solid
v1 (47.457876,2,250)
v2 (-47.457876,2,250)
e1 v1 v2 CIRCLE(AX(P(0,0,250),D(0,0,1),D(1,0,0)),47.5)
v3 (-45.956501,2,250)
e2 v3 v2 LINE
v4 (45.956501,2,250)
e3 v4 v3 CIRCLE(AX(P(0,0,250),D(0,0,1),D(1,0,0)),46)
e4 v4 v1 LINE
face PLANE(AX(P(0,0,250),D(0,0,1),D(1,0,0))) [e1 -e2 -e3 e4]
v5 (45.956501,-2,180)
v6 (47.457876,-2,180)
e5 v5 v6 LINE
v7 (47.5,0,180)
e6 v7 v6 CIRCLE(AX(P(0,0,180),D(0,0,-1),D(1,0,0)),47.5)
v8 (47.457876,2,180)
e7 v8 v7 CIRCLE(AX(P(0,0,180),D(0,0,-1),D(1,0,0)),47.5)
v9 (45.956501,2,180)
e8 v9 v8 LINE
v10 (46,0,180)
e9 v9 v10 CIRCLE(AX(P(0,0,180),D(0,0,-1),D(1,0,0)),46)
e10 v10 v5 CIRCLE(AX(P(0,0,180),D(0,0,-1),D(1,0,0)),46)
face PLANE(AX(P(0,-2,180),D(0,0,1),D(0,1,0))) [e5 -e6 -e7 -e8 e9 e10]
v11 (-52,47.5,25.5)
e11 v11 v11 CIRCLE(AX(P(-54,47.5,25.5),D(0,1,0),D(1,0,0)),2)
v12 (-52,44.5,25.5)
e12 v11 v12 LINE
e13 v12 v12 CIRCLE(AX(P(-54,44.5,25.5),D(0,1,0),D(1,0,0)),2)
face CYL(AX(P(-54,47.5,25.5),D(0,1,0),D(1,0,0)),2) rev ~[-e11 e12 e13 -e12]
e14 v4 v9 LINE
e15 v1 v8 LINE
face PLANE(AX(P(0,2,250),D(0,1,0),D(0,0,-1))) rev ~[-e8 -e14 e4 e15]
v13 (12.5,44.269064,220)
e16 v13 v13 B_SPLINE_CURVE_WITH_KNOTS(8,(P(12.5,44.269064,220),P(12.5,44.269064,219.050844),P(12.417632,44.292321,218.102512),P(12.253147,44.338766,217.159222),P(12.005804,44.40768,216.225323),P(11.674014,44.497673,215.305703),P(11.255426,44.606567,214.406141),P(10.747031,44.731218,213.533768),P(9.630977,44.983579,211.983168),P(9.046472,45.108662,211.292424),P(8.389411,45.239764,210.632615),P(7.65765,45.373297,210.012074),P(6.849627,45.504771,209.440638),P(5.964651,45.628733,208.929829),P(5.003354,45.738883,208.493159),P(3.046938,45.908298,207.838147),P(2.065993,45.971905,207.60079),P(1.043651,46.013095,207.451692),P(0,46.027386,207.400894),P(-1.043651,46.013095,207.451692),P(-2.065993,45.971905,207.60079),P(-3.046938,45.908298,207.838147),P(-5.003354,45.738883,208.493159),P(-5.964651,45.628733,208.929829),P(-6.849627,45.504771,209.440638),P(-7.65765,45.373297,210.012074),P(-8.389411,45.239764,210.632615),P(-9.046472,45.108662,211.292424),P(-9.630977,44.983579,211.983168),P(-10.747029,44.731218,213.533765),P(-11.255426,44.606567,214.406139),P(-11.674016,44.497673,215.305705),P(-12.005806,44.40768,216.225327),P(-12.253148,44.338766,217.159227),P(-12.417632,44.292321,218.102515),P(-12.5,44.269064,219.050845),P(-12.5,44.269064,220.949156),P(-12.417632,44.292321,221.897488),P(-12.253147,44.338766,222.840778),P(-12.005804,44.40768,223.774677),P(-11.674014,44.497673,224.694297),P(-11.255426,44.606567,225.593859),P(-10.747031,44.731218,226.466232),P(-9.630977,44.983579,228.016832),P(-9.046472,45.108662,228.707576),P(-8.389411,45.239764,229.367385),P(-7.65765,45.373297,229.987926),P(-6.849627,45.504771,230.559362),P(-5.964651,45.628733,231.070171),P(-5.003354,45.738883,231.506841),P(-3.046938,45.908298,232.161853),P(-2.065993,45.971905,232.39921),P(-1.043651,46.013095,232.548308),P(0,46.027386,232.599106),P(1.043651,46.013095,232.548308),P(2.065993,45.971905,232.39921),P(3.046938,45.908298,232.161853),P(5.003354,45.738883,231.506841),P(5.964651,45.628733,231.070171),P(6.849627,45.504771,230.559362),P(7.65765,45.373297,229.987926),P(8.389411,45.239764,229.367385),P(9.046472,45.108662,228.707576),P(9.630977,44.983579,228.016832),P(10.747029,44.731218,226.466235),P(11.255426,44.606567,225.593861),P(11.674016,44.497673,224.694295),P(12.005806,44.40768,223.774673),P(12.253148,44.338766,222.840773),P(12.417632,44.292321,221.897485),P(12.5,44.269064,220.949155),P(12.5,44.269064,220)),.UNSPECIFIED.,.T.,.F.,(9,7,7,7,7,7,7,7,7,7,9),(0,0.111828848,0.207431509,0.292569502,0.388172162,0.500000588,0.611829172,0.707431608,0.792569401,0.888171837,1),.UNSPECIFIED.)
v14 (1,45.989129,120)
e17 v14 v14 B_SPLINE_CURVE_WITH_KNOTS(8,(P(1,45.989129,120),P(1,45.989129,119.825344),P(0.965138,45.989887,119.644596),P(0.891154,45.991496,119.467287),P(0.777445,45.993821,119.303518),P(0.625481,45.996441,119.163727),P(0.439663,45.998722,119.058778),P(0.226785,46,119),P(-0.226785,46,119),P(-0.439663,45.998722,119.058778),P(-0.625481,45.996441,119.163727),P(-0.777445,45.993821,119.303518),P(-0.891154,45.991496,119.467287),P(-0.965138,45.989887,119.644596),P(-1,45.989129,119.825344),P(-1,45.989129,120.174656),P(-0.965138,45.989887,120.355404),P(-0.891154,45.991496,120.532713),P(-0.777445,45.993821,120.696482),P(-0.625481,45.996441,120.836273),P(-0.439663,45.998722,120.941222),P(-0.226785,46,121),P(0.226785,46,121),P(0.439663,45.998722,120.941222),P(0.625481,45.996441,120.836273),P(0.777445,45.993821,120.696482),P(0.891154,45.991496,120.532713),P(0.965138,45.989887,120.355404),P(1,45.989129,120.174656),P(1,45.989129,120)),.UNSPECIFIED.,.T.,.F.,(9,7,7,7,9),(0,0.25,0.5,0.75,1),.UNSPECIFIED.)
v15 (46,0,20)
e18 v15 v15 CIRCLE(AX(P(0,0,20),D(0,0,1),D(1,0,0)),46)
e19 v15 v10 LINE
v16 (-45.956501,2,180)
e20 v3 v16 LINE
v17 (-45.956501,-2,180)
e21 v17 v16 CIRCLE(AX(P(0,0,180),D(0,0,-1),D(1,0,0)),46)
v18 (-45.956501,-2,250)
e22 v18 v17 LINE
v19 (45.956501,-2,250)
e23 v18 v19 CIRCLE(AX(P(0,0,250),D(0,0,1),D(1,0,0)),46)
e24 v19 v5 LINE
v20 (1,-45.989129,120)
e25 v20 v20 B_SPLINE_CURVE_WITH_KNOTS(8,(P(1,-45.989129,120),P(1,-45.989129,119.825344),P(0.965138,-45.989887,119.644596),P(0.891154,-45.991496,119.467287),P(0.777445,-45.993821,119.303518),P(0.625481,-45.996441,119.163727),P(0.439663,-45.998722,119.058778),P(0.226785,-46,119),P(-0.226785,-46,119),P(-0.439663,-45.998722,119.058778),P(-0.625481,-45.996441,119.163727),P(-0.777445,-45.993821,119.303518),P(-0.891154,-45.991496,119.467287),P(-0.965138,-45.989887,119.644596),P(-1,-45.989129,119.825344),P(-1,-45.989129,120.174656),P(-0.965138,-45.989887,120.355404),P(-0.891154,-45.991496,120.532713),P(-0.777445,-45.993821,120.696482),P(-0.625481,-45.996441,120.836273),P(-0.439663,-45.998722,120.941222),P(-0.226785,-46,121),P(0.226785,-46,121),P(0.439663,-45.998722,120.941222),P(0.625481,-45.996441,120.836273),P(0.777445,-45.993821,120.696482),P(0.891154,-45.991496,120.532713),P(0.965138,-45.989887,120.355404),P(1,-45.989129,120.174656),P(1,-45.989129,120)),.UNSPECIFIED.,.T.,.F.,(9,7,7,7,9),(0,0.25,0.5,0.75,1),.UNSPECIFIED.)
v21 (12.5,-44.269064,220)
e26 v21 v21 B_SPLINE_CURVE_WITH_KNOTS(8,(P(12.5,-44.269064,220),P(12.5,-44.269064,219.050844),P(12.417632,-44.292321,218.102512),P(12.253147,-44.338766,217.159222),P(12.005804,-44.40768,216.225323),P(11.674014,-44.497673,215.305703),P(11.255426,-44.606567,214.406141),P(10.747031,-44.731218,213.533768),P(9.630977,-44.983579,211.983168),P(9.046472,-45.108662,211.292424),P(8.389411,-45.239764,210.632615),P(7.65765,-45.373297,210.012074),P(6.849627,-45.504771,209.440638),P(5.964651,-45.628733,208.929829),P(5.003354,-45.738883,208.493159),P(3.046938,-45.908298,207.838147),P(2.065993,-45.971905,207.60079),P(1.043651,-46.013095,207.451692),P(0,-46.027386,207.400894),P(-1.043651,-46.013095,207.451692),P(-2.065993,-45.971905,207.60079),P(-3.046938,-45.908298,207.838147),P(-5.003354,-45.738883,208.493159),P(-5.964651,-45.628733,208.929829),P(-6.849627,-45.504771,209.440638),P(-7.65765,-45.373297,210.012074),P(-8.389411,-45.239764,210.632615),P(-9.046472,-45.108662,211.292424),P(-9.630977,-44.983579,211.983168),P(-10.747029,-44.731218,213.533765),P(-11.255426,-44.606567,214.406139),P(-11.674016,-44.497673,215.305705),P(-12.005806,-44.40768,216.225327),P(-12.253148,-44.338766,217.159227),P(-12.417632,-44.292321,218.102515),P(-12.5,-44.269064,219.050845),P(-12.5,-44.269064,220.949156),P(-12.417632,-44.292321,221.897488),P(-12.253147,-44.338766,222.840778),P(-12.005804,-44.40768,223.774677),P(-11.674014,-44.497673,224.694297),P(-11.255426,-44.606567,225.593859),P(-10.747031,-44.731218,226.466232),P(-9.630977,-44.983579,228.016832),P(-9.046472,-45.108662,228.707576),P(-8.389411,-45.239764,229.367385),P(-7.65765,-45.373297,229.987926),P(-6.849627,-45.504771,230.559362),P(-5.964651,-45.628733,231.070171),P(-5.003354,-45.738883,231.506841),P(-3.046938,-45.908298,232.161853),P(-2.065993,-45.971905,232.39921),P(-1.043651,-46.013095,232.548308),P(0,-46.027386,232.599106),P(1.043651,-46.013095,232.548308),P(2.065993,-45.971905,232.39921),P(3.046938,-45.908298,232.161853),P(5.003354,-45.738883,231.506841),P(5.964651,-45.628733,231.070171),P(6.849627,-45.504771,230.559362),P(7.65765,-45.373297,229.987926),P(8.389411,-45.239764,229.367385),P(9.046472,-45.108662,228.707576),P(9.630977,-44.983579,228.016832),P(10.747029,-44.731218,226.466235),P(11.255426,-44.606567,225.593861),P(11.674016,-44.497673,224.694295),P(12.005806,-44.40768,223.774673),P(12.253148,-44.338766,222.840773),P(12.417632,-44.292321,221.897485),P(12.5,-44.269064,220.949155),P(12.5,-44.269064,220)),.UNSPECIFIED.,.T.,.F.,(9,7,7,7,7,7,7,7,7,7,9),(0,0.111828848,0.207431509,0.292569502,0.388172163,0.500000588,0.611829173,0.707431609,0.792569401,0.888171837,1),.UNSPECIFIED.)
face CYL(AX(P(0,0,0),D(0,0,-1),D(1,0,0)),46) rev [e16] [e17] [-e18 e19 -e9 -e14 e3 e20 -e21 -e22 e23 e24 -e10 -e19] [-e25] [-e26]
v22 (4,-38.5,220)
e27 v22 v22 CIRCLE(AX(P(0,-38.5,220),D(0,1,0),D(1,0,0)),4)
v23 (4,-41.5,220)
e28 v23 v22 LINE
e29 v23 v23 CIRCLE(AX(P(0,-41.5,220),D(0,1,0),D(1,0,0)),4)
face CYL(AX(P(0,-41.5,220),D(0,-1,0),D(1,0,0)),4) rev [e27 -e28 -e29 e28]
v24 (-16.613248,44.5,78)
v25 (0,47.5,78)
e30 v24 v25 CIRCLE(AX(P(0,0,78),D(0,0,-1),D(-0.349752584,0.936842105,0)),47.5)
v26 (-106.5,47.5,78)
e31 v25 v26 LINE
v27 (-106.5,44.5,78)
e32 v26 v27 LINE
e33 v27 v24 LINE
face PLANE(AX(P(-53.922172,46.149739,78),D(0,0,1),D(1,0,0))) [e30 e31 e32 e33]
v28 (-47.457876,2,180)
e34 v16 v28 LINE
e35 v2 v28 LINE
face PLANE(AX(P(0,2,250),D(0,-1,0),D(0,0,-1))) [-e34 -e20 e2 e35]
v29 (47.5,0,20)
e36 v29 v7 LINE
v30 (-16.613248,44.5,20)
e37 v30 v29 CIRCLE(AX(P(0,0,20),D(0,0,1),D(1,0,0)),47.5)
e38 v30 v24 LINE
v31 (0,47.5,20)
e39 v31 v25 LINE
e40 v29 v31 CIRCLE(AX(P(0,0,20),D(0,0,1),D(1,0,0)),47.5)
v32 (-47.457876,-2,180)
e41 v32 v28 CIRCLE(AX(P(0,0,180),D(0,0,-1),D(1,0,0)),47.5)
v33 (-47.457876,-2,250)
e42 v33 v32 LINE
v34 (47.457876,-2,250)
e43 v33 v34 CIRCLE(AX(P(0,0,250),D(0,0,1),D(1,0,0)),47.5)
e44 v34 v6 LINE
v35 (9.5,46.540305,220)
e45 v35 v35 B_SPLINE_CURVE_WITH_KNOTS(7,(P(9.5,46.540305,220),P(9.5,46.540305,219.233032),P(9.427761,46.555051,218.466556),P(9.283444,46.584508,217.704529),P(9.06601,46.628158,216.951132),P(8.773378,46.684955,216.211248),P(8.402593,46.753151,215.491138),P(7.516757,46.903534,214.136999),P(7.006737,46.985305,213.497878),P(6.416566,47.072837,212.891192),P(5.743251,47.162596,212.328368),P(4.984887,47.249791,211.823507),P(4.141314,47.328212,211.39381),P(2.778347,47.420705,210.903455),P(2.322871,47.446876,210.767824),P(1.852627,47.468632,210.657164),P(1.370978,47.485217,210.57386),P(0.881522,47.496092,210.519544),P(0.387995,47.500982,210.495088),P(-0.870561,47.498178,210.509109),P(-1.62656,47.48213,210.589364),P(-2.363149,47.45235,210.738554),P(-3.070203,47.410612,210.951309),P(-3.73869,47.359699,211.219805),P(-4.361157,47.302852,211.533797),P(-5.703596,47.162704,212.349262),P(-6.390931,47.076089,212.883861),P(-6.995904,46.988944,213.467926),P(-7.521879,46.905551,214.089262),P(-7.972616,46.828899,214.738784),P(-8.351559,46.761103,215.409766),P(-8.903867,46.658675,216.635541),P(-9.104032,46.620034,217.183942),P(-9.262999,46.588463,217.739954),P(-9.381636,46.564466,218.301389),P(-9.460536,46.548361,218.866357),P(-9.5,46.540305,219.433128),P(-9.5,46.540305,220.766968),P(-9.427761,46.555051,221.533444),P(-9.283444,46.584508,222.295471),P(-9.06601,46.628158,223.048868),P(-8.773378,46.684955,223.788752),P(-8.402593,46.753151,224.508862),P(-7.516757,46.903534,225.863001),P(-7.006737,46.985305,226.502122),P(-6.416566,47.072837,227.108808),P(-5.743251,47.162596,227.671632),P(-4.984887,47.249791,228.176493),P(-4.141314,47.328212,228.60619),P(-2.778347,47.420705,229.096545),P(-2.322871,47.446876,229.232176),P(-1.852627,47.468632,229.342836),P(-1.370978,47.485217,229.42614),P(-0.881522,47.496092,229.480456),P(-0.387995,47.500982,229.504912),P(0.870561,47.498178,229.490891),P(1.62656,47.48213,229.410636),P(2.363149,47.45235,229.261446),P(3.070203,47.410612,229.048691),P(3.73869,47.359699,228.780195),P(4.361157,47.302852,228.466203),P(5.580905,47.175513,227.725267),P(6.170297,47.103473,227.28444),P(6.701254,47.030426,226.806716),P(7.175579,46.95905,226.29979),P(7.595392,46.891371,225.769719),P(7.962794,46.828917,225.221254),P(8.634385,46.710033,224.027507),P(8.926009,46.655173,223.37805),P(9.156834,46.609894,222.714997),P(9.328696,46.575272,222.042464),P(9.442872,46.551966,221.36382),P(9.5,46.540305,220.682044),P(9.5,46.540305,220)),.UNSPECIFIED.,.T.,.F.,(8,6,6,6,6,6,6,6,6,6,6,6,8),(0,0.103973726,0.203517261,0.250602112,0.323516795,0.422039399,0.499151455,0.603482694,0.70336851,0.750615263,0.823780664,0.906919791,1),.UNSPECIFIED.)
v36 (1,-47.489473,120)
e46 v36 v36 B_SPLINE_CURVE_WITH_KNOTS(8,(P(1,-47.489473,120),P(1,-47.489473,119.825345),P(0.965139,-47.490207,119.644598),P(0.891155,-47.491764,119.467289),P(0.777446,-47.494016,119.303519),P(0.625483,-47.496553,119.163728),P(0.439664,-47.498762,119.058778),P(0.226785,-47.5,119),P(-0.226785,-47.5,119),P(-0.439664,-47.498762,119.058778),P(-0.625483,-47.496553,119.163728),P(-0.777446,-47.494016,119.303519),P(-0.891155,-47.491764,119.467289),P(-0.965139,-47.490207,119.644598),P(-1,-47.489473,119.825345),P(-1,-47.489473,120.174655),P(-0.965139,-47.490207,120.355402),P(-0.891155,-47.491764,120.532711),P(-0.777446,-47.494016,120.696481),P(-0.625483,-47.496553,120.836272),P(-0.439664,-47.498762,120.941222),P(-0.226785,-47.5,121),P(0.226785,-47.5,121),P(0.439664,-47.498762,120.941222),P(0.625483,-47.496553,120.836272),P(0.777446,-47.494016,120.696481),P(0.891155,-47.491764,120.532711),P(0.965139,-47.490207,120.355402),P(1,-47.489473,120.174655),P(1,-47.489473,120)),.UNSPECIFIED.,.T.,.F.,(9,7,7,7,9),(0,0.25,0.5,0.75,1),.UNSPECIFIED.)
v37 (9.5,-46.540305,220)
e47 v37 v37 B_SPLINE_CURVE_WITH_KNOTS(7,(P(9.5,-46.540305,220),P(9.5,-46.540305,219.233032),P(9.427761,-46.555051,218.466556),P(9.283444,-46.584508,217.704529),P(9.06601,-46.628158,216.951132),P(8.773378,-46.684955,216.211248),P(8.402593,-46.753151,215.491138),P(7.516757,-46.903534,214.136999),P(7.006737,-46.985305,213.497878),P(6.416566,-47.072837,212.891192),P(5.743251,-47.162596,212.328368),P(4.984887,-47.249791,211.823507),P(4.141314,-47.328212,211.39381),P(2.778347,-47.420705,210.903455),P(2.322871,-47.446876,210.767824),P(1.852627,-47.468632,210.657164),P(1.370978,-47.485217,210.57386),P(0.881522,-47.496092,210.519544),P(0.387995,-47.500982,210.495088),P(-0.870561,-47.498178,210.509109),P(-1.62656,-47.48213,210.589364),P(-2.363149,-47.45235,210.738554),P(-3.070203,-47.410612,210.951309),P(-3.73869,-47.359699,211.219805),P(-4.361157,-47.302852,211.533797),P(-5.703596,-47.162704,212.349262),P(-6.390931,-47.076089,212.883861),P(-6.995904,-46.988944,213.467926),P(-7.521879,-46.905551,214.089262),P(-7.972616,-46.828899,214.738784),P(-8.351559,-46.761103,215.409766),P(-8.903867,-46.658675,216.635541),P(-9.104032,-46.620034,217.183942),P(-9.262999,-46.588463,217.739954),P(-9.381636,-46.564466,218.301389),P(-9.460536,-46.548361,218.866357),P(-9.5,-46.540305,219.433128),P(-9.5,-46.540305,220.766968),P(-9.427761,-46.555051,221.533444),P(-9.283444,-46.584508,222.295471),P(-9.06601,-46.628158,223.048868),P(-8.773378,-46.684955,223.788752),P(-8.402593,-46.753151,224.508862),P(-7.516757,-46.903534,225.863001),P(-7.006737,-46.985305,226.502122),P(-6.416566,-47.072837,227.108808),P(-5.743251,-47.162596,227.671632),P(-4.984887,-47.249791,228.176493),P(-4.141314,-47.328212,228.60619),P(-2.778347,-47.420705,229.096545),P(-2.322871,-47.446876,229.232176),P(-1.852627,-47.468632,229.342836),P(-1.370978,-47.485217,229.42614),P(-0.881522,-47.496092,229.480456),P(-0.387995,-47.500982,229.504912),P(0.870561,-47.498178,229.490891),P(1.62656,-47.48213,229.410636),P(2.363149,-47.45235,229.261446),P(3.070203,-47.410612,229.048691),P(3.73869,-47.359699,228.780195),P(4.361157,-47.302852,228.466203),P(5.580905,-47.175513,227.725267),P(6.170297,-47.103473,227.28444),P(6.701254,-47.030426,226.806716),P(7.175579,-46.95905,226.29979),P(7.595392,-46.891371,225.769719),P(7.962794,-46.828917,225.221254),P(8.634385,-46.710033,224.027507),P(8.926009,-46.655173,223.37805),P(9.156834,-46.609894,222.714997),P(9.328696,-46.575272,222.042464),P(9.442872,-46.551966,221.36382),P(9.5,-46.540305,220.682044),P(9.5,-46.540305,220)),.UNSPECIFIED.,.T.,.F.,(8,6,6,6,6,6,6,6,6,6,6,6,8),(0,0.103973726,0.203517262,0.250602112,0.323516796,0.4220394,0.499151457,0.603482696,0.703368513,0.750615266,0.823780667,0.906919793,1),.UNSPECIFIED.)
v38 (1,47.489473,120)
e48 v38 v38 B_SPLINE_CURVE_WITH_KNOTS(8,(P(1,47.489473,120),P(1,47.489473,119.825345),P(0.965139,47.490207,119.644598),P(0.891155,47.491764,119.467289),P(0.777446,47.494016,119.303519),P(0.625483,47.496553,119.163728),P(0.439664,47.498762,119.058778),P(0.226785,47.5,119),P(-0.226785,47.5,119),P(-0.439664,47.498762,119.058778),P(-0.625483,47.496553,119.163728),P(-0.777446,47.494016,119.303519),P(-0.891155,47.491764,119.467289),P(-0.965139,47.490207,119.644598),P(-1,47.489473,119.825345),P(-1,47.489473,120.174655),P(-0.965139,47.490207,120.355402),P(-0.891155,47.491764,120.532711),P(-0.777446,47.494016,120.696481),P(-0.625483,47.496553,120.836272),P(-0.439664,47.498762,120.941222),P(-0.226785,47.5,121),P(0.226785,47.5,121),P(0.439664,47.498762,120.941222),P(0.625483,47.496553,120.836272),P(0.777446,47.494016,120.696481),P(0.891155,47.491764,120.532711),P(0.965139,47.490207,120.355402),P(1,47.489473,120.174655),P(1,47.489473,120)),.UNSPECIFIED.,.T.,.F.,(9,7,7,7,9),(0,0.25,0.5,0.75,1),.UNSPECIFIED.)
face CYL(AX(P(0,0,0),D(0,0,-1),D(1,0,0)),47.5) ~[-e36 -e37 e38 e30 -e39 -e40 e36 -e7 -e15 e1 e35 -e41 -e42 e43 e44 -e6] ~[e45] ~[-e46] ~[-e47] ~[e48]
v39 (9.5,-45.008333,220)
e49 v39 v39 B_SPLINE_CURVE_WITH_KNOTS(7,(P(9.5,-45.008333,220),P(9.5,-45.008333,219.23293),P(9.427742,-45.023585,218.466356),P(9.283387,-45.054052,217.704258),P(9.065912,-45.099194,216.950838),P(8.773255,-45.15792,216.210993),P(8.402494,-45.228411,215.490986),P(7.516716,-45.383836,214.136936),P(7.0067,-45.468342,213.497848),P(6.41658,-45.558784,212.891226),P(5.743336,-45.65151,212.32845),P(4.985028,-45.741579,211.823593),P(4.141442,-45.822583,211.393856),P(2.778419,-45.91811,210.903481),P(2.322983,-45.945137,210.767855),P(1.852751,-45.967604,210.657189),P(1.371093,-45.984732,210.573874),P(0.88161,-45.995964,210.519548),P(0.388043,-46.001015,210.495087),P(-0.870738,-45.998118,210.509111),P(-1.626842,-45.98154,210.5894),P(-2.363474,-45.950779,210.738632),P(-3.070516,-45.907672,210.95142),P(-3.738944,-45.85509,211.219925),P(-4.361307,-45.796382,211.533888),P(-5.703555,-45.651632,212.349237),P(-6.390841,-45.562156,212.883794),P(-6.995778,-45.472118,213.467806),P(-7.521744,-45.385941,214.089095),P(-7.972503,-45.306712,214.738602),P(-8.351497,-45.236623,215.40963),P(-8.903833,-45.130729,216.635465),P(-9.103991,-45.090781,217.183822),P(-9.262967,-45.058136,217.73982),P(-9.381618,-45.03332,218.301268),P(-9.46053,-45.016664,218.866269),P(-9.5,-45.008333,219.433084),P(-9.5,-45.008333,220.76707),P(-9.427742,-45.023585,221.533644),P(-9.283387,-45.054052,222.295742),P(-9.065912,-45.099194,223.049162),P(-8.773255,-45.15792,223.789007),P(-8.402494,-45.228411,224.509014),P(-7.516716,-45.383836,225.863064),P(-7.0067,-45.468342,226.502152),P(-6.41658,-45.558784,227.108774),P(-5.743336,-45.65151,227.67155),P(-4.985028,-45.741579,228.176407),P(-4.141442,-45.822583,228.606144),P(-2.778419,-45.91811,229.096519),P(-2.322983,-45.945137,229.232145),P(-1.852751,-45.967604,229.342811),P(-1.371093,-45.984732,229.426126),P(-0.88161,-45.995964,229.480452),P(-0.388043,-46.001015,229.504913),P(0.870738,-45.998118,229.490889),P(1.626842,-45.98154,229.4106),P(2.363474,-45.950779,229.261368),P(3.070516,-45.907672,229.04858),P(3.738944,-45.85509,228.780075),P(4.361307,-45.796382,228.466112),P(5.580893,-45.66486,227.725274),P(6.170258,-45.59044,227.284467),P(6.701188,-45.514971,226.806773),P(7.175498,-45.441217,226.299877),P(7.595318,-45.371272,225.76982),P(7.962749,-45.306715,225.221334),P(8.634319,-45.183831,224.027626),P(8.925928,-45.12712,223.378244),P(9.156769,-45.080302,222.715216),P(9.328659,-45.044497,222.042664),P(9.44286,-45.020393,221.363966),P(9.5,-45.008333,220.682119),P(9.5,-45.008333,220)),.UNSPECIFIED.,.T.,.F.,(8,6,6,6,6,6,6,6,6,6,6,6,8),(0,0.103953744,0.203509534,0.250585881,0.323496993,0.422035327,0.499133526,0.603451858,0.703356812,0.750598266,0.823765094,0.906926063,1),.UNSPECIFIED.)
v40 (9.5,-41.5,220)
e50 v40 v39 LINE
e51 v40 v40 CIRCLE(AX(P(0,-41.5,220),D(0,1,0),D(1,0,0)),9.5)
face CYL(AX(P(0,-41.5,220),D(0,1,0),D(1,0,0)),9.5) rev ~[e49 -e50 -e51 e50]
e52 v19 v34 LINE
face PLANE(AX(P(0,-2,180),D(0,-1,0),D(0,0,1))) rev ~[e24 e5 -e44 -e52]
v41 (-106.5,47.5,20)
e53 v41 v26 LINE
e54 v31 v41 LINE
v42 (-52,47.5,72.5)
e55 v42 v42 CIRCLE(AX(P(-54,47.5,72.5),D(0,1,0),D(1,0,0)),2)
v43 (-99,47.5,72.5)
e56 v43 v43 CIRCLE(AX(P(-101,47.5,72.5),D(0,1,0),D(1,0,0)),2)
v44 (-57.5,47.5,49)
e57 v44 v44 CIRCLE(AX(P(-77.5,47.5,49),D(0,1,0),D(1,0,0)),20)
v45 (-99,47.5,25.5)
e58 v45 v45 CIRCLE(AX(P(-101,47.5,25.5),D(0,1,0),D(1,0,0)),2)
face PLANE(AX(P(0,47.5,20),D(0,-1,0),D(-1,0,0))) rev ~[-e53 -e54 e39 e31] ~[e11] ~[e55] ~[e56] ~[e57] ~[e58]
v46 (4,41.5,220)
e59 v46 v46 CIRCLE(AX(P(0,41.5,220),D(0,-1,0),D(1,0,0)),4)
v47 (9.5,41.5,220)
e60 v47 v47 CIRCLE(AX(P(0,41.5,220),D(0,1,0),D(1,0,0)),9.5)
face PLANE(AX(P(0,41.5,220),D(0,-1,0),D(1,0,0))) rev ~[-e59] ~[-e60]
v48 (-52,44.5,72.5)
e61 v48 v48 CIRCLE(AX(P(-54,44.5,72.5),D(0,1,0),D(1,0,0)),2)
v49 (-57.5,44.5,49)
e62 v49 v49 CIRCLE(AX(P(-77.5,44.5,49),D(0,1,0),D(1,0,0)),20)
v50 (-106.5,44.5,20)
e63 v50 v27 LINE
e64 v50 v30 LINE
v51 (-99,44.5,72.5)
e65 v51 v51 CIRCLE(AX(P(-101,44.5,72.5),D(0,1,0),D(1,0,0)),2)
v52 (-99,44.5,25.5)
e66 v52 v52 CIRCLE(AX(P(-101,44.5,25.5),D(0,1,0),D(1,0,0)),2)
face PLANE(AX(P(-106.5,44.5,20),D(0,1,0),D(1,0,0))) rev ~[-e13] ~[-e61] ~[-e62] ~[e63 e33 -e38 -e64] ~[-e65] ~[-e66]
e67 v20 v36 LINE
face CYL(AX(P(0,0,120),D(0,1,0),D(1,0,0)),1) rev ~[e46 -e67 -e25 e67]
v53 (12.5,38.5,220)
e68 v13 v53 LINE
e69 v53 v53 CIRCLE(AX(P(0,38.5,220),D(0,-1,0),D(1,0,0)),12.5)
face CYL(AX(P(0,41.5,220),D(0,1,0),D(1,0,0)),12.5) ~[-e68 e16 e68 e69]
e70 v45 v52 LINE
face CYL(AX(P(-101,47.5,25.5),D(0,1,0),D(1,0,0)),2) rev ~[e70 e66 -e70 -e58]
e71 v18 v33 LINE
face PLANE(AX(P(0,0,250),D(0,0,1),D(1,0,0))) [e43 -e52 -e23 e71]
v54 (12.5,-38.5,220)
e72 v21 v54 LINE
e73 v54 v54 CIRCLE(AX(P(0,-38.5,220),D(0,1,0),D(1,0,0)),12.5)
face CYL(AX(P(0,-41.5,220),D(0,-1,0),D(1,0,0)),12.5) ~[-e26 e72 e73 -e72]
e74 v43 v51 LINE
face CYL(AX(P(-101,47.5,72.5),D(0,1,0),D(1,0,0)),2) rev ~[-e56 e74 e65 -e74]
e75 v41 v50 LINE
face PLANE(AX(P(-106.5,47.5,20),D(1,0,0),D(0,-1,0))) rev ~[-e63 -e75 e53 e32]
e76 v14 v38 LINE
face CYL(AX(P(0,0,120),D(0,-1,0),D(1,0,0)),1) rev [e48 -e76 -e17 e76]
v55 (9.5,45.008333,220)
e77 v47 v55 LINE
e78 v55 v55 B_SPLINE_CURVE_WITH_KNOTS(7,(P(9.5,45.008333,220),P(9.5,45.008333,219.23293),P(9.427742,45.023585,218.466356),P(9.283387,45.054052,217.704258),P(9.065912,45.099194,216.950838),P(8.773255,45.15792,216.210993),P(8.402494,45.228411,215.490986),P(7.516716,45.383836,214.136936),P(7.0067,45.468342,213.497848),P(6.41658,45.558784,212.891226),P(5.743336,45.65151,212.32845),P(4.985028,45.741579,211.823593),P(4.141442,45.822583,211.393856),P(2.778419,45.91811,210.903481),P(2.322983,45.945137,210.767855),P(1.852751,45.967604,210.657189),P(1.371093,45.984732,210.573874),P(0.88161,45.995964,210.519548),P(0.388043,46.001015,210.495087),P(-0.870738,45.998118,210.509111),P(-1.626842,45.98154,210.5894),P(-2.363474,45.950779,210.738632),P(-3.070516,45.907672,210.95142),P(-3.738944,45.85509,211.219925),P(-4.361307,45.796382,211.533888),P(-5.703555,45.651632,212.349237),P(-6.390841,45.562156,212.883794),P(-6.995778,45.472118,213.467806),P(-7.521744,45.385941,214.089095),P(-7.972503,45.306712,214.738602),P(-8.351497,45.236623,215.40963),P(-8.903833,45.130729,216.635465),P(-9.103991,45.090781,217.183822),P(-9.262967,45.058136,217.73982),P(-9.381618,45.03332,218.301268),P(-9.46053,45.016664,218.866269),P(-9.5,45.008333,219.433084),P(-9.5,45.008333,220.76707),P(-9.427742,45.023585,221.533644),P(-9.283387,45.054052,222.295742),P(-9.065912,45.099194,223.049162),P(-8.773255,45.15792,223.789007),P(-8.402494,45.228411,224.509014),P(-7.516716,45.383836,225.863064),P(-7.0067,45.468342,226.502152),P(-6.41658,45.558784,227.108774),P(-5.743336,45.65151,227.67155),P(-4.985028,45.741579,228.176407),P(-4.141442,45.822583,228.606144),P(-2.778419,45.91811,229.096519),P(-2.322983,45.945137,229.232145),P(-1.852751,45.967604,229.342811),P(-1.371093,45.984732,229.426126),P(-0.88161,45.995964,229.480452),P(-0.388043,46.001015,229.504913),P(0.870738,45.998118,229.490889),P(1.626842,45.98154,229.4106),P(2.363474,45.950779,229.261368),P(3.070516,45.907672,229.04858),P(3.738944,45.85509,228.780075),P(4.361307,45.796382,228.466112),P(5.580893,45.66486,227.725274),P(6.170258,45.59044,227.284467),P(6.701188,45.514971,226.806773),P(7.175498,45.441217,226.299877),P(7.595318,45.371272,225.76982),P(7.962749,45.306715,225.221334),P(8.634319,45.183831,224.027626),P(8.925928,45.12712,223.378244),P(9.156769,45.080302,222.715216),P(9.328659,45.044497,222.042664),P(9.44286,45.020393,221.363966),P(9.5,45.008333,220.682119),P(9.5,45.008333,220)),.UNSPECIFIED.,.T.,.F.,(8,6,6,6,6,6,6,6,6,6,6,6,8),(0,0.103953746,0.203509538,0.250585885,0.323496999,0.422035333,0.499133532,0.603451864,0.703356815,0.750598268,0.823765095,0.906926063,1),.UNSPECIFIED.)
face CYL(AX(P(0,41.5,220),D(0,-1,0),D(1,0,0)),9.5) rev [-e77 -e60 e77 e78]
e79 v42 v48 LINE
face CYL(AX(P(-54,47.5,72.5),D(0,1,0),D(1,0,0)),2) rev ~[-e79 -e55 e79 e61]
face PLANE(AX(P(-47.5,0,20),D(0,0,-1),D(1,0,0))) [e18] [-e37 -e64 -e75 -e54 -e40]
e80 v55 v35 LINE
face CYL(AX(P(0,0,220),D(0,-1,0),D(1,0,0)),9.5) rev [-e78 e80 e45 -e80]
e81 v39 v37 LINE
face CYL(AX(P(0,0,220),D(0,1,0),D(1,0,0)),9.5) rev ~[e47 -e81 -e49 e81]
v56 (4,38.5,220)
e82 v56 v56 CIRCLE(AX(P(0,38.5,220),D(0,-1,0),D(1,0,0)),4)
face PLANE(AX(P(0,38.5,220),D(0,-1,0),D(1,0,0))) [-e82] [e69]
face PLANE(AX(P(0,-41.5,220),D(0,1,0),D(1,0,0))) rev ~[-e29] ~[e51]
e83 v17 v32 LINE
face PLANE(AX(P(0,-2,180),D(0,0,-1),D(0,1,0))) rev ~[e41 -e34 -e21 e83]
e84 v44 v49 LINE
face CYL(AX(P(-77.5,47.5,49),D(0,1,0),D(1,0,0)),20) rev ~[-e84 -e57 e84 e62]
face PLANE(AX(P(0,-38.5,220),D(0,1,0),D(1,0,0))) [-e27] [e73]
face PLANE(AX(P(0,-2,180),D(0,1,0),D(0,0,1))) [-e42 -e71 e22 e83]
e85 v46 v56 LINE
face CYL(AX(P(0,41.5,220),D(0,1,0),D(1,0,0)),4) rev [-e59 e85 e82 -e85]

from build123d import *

# Parameters (mm, degrees)
SKETCH1_R               = 47.5
SKETCH1_R_2             = 46
BOSS_EXTRUDE1_DEPTH     = 250
CUT_EXTRUDE1_DEPTH      = 250
CUT_EXTRUDE1_DEPTH_BACK = 250
SKETCH2_R               = 1
CUT_EXTRUDE2_DEPTH      = 75
CUT_EXTRUDE2_DEPTH_BACK = 79
SKETCH3_W               = 95
SKETCH3_H               = 20
CUT_EXTRUDE3_DEPTH      = 64
CUT_EXTRUDE3_DEPTH_BACK = 73
SKETCH4_R               = 9.5
BOSS_EXTRUDE2_REACH     = 271.587
SKETCH5_R               = 12.5
SKETCH5_R_2             = 9.5
BOSS_EXTRUDE7_START     = 3
SKETCH10_R              = 12.5
SKETCH10_R_2            = 4
BOSS_EXTRUDE7_DEPTH     = 3
BOSS_EXTRUDE8_REACH     = 271.587
SKETCH12_R              = 12.5
SKETCH12_R_2            = 9.5
SKETCH13_R              = 12.5
SKETCH13_R_2            = 4
BOSS_EXTRUDE9_DEPTH     = 3
BOSS_EXTRUDE11_DEPTH    = 58
SKETCH18_R              = 2
SKETCH18_R_2            = 20
CUT_EXTRUDE5_DEPTH      = 58
CUT_EXTRUDE6_DEPTH      = 98
CUT_EXTRUDE6_DEPTH_BACK = 82


with BuildPart() as part:
    # Sketch1 → Boss-Extrude1 (new body)
    with BuildSketch(Plane.XY):
        Circle(SKETCH1_R)
        Circle(SKETCH1_R_2, mode=Mode.SUBTRACT)
    extrude(amount=BOSS_EXTRUDE1_DEPTH)

    # Sketch2 → Cut-Extrude1 (cut, two sides: drawn at the far end of the back side and taken through both)
    with BuildSketch(Plane(origin=(0, 0, 0), x_dir=(1, 0, 0), z_dir=(0, 1, 0)).offset(-CUT_EXTRUDE1_DEPTH_BACK)):
        with Locations((0, -120)):
            Circle(SKETCH2_R)
    extrude(amount=CUT_EXTRUDE1_DEPTH + CUT_EXTRUDE1_DEPTH_BACK, mode=Mode.SUBTRACT)

    # Sketch3 → Cut-Extrude2 (cut, two sides: drawn at the far end of the back side and taken through both)
    with BuildSketch(Plane(origin=(0, 0, 0), x_dir=(1, 0, 0), z_dir=(0, 1, 0)).offset(-CUT_EXTRUDE2_DEPTH_BACK)):
        with Locations((0, -10)):
            Rectangle(SKETCH3_W, SKETCH3_H)
    extrude(amount=CUT_EXTRUDE2_DEPTH + CUT_EXTRUDE2_DEPTH_BACK, mode=Mode.SUBTRACT)

    # Sketch4 → Cut-Extrude3 (cut, two sides: drawn at the far end of the back side and taken through both)
    with BuildSketch(Plane(origin=(0, 0, 0), x_dir=(1, 0, 0), z_dir=(0, 1, 0)).offset(-CUT_EXTRUDE3_DEPTH_BACK)):
        with Locations((0, -220)):
            Circle(SKETCH4_R)
    extrude(amount=CUT_EXTRUDE3_DEPTH + CUT_EXTRUDE3_DEPTH_BACK, mode=Mode.SUBTRACT)

    # Sketch5 → Boss-Extrude2 (add, up to next)
    with BuildSketch(Plane(origin=(0, 41.5, 0), x_dir=(1, 0, 0), z_dir=(0, 1, 0)), mode=Mode.PRIVATE) as boss_extrude2_sk1:
        with Locations((0, -220)):
            Circle(SKETCH5_R)
        with Locations((0, -220)):
            Circle(SKETCH5_R_2, mode=Mode.SUBTRACT)
    boss_extrude2_tool1 = extrude(boss_extrude2_sk1.sketch, amount=BOSS_EXTRUDE2_REACH, mode=Mode.PRIVATE) - part.part
    add(boss_extrude2_tool1.solids().sort_by_distance((-12.146447, 41.5, 220))[0])

    # Sketch10 → Boss-Extrude7 (add)
    with BuildSketch(Plane.XZ.offset(-41.5).offset(BOSS_EXTRUDE7_START)):
        with Locations((0, 220)):
            Circle(SKETCH10_R)
        with Locations((0, 220)):
            Circle(SKETCH10_R_2, mode=Mode.SUBTRACT)
    extrude(amount=-BOSS_EXTRUDE7_DEPTH)

    # Sketch12 → Boss-Extrude8 (add, up to next)
    with BuildSketch(Plane(origin=(0, -41.5, 0), x_dir=(1, 0, 0), z_dir=(0, 1, 0)), mode=Mode.PRIVATE) as boss_extrude8_sk1:
        with Locations((0, -220)):
            Circle(SKETCH12_R)
        with Locations((0, -220)):
            Circle(SKETCH12_R_2, mode=Mode.SUBTRACT)
    boss_extrude8_tool1 = extrude(boss_extrude8_sk1.sketch, amount=-BOSS_EXTRUDE8_REACH, mode=Mode.PRIVATE) - part.part
    add(boss_extrude8_tool1.solids().sort_by_distance((-12.146447, -41.5, 220))[0])

    # Sketch13 → Boss-Extrude9 (add)
    with BuildSketch(Plane(origin=(0, -41.5, 0), x_dir=(1, 0, 0), z_dir=(0, 1, 0))):
        with Locations((0, -220)):
            Circle(SKETCH13_R)
        with Locations((0, -220)):
            Circle(SKETCH13_R_2, mode=Mode.SUBTRACT)
    extrude(amount=BOSS_EXTRUDE9_DEPTH)

    # Sketch17 → Boss-Extrude11 (add)
    with BuildSketch(Plane.XY.offset(20)):
        with BuildLine():
            Line((0, 47.5), (-106.5, 47.5))
            Line((-106.5, 47.5), (-106.5, 44.5))
            Line((-106.5, 44.5), (-16.613247726, 44.5))
            ThreePointArc((-16.613247726, 44.5), (-8.440971508, 46.74398357), (0, 47.5))
        make_face()
    extrude(amount=BOSS_EXTRUDE11_DEPTH)

    # Sketch18 → Cut-Extrude5 (cut)
    with BuildSketch(Plane(origin=(0, 47.5, 0), x_dir=(1, 0, 0), z_dir=(0, 1, 0))):
        with Locations((-101, -72.5)):
            Circle(SKETCH18_R)
        with Locations((-101, -25.5)):
            Circle(SKETCH18_R)
        with Locations((-54, -25.5)):
            Circle(SKETCH18_R)
        with Locations((-54, -72.5)):
            Circle(SKETCH18_R)
        with Locations((-77.5, -49)):
            Circle(SKETCH18_R_2)
    extrude(amount=-CUT_EXTRUDE5_DEPTH, mode=Mode.SUBTRACT)

    # Sketch19 → Cut-Extrude6 (cut, two sides: drawn at the far end of the back side and taken through both)
    with BuildSketch(Plane(origin=(0, 0, 0), x_dir=(0, 0, -1), z_dir=(1, 0, 0)).offset(-CUT_EXTRUDE6_DEPTH_BACK)):
        Polygon((-180, 0), (-180, -2), (-250, -2), (-250, 0), (-250, 2), (-180, 2), align=None)
    extrude(amount=CUT_EXTRUDE6_DEPTH + CUT_EXTRUDE6_DEPTH_BACK, mode=Mode.SUBTRACT)


solid = part.part
